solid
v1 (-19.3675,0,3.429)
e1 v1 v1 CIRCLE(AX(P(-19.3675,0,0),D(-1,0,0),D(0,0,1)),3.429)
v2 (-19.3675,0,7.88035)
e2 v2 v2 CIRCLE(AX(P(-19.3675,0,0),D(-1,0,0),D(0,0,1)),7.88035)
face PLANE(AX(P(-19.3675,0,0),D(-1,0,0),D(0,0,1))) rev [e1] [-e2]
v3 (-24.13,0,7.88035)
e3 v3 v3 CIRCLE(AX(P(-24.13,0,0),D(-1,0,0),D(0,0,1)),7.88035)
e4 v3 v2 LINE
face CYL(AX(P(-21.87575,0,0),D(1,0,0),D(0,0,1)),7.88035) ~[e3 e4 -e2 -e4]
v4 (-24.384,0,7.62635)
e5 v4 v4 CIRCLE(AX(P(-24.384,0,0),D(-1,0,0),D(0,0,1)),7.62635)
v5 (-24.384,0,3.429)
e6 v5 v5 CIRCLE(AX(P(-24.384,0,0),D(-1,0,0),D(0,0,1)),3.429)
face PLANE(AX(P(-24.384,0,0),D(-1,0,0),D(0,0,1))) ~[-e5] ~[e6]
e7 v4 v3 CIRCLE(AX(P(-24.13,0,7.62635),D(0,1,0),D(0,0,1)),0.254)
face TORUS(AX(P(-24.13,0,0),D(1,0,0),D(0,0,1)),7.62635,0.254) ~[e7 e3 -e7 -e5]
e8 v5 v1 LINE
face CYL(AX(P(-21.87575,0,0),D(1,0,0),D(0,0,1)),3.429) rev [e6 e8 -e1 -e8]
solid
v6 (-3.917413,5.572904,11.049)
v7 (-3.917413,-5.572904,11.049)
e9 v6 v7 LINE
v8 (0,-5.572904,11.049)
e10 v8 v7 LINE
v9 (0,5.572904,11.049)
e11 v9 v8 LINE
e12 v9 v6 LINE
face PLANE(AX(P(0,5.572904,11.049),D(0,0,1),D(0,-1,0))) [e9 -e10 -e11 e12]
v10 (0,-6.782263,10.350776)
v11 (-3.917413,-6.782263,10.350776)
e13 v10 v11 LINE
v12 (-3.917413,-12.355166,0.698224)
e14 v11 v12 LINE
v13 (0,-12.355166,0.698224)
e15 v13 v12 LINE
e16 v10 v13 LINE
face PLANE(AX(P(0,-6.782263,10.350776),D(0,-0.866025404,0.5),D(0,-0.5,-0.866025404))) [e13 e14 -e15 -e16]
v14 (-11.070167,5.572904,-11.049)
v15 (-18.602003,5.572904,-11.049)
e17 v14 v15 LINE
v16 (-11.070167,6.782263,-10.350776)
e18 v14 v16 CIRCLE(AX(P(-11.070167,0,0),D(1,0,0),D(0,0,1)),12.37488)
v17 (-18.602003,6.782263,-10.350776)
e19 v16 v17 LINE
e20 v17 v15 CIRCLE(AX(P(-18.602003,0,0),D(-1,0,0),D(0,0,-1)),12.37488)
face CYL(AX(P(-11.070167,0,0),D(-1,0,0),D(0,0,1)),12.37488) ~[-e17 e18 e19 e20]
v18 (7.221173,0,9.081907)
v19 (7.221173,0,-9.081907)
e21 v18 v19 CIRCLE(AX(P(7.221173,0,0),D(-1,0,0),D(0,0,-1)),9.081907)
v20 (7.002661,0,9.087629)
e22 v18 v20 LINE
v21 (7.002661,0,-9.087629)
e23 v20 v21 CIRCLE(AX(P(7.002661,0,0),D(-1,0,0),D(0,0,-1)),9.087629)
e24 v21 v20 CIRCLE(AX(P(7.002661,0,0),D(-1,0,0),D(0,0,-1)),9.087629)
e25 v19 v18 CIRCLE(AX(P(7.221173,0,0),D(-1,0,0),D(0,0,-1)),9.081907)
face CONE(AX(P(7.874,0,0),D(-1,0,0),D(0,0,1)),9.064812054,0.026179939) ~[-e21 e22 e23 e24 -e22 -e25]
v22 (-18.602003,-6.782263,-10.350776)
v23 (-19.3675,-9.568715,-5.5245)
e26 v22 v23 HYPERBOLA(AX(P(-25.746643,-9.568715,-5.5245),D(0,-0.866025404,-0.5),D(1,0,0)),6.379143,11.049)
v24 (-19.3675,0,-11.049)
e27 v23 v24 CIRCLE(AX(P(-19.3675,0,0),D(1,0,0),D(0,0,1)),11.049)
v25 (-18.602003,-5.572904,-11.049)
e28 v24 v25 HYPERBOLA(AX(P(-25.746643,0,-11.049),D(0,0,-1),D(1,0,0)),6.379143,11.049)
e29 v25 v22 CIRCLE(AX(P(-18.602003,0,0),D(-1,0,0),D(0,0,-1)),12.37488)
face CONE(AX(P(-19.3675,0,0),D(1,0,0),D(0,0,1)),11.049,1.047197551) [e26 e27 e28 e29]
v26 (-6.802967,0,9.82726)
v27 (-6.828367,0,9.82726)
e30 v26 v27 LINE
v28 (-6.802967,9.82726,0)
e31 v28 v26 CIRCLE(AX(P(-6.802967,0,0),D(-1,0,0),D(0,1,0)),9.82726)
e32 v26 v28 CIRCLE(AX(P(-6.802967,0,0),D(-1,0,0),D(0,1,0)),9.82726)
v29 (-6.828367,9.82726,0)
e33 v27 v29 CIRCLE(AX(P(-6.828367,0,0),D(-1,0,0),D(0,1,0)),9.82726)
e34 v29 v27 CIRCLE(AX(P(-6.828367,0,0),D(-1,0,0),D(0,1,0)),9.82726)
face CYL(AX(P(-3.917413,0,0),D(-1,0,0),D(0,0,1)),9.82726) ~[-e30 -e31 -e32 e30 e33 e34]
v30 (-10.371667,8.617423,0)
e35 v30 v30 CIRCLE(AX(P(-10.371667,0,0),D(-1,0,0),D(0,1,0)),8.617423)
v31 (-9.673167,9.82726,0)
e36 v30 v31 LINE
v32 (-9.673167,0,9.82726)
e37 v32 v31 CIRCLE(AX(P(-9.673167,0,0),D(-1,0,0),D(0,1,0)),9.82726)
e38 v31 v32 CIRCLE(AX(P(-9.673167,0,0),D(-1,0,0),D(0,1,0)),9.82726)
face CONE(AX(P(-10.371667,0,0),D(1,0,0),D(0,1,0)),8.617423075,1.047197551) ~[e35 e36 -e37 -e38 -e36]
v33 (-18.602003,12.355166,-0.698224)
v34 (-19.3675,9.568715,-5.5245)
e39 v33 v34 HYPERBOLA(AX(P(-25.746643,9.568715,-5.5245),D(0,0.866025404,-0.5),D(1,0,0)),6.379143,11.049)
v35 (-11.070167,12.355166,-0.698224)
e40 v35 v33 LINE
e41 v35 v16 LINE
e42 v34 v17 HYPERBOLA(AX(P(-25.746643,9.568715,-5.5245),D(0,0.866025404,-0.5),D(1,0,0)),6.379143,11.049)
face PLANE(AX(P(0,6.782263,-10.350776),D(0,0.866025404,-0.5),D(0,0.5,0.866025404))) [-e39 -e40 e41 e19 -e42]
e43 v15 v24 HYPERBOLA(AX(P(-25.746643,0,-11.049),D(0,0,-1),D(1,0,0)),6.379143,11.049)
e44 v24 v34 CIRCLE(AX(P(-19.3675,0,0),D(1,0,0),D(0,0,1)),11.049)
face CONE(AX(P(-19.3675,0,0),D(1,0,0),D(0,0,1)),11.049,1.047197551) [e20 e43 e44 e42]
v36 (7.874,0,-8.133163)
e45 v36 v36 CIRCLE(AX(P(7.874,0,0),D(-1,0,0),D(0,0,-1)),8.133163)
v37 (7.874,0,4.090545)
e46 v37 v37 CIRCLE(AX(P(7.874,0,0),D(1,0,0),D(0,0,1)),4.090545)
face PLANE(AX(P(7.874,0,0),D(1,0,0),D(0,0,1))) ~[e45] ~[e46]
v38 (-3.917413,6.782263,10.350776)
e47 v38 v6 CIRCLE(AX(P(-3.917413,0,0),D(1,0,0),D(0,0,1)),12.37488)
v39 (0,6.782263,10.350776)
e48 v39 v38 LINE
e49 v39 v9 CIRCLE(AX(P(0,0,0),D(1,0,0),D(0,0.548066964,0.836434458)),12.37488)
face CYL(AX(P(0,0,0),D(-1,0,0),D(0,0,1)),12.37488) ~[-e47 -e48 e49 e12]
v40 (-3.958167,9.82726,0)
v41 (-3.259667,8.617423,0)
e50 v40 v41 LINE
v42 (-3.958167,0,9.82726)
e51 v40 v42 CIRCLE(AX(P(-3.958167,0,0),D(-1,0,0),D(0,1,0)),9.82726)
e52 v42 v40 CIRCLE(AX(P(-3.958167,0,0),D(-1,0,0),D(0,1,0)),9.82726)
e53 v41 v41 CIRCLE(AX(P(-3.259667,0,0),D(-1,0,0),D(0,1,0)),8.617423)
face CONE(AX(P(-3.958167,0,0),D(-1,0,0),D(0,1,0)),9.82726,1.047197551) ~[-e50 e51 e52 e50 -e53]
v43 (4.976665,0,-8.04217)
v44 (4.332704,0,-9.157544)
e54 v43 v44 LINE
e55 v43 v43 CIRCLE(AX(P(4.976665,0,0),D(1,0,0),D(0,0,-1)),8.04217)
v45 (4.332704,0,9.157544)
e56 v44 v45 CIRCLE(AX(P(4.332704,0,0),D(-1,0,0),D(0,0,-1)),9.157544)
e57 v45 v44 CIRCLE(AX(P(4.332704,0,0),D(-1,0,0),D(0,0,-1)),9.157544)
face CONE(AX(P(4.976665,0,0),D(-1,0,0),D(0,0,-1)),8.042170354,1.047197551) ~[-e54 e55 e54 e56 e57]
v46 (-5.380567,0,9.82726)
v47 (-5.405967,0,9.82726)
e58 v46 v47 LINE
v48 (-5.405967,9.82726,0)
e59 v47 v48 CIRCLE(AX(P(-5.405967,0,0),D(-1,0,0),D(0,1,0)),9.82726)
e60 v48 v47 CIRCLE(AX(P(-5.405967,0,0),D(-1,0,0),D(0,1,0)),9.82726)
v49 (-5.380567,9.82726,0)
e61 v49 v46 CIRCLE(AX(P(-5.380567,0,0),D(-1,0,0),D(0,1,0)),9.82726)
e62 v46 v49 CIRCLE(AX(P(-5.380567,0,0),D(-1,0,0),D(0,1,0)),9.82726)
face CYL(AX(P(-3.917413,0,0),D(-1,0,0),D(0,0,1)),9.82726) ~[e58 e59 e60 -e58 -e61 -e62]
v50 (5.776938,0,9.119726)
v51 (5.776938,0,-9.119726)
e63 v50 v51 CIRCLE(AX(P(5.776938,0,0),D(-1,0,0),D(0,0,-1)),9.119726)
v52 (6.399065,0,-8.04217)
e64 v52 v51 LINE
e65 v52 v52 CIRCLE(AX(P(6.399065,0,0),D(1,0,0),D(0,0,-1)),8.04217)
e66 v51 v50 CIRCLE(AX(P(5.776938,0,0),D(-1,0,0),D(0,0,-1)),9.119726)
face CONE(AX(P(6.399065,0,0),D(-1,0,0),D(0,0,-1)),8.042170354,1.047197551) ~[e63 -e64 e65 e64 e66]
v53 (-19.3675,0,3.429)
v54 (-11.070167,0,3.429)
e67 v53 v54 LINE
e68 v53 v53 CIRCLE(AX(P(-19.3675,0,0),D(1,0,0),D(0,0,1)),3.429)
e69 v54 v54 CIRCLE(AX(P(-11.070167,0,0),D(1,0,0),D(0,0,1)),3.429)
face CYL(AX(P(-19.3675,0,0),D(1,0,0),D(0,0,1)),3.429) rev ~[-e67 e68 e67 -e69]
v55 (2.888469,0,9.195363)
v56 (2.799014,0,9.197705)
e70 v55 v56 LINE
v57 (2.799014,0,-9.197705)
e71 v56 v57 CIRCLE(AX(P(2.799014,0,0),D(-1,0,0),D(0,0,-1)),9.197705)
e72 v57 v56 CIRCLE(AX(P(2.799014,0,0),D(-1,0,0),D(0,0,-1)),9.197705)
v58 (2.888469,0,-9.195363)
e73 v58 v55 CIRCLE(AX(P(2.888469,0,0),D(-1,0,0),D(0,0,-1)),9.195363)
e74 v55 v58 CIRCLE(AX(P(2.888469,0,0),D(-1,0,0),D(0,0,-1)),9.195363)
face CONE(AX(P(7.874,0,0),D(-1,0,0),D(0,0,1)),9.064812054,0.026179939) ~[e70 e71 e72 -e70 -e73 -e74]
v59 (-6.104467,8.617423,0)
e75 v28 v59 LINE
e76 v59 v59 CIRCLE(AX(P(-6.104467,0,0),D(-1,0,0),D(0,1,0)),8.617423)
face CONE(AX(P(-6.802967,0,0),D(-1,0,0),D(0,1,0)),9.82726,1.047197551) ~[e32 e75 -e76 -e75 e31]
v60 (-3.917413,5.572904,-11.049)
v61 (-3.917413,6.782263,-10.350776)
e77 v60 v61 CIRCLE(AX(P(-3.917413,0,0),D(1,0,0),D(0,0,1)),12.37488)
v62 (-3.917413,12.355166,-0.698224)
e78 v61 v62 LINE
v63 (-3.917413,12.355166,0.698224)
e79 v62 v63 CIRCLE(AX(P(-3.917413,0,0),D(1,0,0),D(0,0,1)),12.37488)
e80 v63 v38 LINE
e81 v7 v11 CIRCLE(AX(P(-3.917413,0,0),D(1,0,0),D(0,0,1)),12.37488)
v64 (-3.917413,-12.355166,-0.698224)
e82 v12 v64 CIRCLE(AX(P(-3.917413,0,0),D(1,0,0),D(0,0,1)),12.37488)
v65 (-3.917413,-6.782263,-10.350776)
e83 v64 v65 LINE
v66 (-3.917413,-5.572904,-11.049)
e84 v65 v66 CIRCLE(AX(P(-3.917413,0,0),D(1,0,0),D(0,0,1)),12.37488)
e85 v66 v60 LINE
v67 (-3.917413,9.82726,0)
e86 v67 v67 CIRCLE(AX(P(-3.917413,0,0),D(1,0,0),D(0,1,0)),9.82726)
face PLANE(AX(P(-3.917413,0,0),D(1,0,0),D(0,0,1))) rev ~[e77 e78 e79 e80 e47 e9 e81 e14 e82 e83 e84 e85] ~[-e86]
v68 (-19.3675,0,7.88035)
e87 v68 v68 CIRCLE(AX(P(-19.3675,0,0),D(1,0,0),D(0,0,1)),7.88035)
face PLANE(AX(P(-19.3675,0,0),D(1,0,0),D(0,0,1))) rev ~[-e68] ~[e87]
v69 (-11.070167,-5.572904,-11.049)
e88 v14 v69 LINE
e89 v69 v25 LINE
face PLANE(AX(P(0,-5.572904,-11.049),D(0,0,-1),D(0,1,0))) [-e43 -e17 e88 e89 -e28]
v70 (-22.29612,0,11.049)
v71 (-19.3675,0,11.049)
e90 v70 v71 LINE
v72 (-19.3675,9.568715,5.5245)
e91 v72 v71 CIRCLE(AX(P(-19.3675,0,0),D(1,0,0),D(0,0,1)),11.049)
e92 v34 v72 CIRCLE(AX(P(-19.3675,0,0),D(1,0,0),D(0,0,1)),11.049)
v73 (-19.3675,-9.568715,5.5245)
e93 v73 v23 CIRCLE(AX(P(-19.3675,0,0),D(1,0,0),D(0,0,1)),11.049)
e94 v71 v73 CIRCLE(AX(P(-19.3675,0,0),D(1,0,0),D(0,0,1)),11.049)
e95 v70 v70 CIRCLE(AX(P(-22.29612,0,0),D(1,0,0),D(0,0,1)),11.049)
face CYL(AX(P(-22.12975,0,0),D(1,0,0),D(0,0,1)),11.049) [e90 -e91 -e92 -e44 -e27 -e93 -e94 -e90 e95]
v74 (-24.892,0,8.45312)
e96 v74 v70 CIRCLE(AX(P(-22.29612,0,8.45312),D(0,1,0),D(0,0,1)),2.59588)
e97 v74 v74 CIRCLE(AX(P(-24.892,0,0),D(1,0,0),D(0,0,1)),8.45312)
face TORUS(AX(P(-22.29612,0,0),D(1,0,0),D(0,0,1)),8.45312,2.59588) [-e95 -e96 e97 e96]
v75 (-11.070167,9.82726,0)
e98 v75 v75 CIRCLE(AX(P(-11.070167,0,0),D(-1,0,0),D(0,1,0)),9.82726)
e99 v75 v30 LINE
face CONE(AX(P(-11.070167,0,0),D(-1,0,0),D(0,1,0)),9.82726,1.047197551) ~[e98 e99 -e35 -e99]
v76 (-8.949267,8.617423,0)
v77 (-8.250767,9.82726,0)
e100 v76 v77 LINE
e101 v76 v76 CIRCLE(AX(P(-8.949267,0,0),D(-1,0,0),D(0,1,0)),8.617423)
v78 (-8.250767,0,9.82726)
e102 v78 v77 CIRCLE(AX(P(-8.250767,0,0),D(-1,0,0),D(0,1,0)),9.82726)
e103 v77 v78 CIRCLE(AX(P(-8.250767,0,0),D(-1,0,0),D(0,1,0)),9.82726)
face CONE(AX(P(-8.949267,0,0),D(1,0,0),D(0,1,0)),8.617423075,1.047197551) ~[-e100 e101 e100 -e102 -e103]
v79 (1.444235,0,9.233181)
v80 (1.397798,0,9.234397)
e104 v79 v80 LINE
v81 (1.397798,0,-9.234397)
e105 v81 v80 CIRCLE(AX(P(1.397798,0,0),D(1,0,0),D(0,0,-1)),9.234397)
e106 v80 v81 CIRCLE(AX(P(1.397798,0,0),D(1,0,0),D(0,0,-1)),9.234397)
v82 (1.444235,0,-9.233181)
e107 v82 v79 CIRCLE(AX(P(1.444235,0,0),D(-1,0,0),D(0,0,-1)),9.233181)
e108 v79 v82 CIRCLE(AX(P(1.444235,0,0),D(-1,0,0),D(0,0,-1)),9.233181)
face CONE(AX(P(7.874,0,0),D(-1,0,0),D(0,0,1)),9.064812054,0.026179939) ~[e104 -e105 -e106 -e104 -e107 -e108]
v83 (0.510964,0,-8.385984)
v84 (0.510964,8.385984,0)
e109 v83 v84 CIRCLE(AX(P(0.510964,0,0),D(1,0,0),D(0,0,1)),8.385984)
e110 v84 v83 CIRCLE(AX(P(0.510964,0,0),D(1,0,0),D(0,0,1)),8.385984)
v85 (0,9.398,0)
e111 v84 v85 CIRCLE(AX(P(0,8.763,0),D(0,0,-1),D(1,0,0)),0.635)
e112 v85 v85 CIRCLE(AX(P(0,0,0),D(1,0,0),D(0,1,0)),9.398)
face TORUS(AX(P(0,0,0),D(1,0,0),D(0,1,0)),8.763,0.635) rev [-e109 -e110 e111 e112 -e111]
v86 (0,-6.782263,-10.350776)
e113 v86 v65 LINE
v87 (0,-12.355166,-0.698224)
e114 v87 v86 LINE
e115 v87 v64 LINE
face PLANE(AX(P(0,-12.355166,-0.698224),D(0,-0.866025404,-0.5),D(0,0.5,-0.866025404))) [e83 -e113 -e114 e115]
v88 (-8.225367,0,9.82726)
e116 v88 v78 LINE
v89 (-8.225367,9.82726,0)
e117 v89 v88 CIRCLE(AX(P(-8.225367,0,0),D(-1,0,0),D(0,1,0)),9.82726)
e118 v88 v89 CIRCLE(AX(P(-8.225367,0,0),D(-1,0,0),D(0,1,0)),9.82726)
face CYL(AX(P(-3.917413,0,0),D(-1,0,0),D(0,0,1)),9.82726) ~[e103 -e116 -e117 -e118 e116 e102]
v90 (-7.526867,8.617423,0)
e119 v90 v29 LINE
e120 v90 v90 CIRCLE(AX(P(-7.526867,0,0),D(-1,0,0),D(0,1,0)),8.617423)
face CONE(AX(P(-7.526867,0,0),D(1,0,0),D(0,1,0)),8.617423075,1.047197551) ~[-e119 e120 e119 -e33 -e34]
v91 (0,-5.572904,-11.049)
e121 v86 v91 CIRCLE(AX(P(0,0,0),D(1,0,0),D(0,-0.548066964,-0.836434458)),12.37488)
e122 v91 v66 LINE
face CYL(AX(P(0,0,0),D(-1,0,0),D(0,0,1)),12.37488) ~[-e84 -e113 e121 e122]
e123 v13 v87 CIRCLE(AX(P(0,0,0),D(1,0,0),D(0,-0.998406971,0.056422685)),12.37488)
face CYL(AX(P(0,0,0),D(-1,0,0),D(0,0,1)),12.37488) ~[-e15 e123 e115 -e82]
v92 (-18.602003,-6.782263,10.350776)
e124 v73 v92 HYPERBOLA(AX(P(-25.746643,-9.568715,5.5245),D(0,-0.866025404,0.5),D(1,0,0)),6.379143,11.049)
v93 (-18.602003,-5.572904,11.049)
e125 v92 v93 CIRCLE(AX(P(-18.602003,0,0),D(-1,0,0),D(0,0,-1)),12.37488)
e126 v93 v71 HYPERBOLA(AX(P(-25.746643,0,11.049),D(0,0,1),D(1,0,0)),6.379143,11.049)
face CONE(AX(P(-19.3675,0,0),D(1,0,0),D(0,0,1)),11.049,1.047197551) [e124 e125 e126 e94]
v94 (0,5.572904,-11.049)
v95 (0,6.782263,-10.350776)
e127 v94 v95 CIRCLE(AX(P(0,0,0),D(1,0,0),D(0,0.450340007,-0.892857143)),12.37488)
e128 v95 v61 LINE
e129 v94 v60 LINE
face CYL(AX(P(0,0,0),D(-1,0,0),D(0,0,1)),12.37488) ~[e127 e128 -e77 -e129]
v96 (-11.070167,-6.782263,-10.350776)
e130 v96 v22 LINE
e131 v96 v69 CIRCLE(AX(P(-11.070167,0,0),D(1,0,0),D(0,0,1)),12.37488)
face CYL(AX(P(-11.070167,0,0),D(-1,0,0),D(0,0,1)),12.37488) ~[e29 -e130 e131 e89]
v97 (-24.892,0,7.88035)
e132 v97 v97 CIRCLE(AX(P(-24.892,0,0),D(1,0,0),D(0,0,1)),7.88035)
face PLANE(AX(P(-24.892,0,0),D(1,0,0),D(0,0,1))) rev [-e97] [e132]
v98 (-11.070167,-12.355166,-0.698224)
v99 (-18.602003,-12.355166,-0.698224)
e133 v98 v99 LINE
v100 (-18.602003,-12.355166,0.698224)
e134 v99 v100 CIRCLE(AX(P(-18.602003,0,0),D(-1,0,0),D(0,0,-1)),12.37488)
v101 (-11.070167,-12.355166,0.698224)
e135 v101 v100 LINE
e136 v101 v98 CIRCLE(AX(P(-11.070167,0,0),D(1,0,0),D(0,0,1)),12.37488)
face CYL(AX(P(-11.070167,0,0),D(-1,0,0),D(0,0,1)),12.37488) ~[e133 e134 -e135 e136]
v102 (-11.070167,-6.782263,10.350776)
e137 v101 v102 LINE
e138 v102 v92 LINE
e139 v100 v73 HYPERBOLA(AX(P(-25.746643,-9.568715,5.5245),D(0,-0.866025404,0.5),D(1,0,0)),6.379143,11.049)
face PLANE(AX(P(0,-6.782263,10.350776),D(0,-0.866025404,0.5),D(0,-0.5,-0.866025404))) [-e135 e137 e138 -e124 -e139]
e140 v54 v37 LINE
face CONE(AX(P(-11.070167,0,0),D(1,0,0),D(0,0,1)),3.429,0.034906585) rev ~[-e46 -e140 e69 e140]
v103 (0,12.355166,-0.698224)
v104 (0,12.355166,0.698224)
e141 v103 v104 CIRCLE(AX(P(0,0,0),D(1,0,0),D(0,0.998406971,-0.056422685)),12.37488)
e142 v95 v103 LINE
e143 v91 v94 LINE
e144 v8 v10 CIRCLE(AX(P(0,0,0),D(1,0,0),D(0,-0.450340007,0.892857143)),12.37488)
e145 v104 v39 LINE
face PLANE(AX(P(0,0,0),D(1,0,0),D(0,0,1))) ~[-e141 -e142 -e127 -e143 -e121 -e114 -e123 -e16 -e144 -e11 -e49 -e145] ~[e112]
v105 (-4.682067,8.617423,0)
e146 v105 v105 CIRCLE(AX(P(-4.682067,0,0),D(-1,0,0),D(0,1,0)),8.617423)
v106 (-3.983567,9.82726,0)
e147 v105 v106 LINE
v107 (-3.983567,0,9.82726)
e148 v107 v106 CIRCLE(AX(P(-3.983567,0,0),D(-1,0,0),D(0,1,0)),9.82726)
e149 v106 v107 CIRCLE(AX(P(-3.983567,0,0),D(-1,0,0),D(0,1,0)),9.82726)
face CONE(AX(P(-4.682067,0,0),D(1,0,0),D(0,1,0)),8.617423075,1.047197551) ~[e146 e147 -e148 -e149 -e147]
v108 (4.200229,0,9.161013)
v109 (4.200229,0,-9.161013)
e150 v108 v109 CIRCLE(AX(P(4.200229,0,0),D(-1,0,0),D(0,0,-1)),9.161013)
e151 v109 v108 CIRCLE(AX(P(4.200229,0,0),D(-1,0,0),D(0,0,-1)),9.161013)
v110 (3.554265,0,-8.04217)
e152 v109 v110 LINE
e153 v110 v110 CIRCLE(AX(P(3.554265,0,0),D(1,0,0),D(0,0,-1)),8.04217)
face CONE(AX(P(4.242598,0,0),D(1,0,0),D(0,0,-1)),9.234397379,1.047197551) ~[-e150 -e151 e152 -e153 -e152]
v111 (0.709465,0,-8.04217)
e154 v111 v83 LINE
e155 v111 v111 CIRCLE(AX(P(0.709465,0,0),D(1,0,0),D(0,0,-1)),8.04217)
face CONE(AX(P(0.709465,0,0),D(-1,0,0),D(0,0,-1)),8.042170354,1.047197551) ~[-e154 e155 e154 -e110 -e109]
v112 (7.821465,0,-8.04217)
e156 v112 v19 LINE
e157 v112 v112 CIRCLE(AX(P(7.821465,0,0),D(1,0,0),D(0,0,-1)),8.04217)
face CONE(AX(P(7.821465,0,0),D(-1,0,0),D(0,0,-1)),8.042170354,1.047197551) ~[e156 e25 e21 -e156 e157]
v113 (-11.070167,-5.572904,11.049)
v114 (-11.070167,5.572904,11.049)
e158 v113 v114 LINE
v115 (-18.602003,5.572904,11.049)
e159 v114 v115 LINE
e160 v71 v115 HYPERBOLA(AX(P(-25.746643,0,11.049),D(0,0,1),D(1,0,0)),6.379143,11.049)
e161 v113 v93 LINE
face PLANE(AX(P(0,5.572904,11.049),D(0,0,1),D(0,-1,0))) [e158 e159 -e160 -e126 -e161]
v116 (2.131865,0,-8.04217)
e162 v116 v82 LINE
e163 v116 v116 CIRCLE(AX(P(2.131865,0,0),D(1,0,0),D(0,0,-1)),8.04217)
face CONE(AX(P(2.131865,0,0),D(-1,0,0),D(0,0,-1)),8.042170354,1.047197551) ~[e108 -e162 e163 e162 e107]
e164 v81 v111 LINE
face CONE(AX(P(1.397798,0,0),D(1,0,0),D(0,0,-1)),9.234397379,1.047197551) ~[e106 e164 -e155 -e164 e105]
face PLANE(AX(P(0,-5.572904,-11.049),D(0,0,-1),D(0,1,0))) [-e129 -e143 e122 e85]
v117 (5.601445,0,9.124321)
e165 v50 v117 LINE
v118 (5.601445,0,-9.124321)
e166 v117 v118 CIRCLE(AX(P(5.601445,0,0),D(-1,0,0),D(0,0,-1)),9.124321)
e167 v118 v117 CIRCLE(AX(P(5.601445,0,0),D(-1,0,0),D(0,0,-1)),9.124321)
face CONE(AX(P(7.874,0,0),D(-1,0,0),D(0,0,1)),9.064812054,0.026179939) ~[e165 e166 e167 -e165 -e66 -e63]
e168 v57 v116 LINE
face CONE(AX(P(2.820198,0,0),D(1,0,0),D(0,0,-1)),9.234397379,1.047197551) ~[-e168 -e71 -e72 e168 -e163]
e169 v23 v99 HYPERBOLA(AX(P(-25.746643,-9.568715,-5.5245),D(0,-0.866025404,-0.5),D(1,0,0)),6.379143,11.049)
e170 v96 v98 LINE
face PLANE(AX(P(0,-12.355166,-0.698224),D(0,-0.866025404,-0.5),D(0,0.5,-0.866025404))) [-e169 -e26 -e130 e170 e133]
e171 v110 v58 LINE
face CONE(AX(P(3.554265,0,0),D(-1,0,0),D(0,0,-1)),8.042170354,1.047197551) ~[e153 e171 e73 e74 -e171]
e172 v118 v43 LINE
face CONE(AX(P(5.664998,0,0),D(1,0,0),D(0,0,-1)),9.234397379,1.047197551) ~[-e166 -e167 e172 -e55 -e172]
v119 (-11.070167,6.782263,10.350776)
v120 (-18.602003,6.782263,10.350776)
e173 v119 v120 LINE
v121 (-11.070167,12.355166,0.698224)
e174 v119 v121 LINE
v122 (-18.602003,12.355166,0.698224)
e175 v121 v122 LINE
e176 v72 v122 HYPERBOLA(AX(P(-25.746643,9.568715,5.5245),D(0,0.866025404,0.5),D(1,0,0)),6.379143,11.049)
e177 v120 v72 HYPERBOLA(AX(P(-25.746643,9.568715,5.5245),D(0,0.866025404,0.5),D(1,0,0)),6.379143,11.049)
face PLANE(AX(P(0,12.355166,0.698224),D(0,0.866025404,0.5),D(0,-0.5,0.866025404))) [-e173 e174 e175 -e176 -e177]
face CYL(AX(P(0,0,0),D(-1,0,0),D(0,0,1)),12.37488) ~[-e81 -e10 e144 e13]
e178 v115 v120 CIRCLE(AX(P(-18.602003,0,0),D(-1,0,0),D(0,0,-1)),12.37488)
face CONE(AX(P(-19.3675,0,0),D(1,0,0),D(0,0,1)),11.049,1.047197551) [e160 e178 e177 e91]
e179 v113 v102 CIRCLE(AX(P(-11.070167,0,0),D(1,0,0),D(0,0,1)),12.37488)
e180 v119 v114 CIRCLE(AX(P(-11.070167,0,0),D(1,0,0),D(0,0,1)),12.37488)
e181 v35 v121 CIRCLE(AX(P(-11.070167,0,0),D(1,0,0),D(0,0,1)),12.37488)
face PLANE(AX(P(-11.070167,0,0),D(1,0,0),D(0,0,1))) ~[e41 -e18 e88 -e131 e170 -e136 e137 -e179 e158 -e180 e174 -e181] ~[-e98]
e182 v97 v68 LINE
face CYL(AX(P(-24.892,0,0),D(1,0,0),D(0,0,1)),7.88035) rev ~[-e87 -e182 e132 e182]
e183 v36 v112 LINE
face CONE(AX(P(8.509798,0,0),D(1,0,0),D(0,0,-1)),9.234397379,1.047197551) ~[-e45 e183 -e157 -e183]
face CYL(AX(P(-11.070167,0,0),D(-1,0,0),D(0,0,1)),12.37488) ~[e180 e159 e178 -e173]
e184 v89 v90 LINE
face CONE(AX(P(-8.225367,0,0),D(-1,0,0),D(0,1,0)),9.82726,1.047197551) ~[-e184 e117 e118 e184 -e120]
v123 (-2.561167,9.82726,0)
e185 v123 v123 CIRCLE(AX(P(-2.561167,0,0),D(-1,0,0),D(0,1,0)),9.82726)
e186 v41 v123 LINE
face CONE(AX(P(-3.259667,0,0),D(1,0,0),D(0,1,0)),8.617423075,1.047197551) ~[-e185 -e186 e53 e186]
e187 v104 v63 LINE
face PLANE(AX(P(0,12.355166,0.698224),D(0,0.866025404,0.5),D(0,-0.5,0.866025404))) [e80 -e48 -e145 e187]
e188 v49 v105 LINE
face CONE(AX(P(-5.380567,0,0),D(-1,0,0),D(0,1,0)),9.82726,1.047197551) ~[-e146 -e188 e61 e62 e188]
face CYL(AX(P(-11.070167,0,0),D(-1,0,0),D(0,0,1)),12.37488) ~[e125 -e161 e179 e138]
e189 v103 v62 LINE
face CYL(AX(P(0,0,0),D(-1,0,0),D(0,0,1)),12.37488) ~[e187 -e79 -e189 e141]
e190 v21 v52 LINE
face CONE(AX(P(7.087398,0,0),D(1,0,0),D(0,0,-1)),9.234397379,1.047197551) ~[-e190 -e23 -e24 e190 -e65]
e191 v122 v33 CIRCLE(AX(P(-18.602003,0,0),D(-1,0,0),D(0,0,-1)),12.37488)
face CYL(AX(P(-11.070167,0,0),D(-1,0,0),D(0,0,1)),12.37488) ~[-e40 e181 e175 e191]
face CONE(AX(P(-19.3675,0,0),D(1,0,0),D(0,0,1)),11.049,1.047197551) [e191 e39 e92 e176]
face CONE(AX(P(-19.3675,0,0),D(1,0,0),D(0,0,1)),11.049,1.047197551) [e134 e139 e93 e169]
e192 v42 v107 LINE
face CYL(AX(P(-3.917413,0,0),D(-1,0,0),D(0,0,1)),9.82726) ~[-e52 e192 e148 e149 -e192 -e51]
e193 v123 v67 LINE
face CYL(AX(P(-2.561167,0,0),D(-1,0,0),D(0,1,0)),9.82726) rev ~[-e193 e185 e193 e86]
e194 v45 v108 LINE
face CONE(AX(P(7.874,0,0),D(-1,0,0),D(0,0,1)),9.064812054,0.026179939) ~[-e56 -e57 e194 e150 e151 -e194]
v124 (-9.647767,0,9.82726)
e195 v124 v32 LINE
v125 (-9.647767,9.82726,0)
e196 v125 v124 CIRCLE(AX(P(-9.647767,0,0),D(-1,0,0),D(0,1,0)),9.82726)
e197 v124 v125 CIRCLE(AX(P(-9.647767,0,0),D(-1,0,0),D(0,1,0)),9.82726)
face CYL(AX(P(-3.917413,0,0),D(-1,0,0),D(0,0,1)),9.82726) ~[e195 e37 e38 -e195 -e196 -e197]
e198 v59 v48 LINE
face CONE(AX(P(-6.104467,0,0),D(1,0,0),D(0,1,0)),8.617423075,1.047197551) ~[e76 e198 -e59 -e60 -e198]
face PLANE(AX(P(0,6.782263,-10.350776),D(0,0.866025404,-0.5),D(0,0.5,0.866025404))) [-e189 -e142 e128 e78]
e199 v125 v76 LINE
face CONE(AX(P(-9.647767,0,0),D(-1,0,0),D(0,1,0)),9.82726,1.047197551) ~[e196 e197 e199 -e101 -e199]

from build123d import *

# Parameters (mm, degrees)
SKETCH2_OUTSIDE_W  = 36.338
SKETCH2_OUTSIDE_H  = 36.338
CUT_EXTRUDE1_DEPTH = 19.3675
SKETCH14_W         = 5.5245
SKETCH14_H         = 1.778
CHAMFER1_SIZE      = 0.326149358
CHAMFER1_SIZE2     = 0.3175
SKETCH3_OUTSIDE_W  = 131.256
SKETCH3_OUTSIDE_H  = 133.908
SKETCH3_OUTSIDE_R  = 11.049
CUT_EXTRUDE2_DEPTH = 28.2415
CUT_EXTRUDE2_DRAFT = -60
SKETCH16_W         = 5.0165
SKETCH16_H         = 4.45135
FILLET1_R          = 2.59588
LPATTERN1_COUNT    = 6
LPATTERN1_PITCH    = 1.4224
LPATTERN2_COUNT    = 6
LPATTERN2_PITCH    = 1.4224
SKETCH15_R         = 0.635
FILLET4_R          = 0.254


with BuildPart() as part:
    # Sketch1 → Revolve1 (revolve)
    with BuildSketch(Plane.XY, mode=Mode.PRIVATE) as revolve1_sk:
        Polygon((-11.070166667, 9.82726), (-11.070166667, 12.37488), (-19.3675, 12.37488), (-19.3675, 9.271), (-24.892, 9.271), (-24.892, 7.88035), (-19.3675, 7.88035), (-19.3675, 3.429), (-11.070166667, 3.429), (7.874, 4.090544877), (7.874, 9.064812054), (0, 9.271), (0, 12.37488), (-3.917412935, 12.37488), (-3.917412935, 9.82726), align=None)
    revolve(revolve1_sk.sketch.rotate(Axis((-18.386021217, 0, 0), (1, 0, 0)), 90), axis=Axis((-18.386021217, 0, 0), (1, 0, 0)))  # turned: the seam where the file's is

    # Sketch2 outside → Cut-Extrude1 (cut)
    with BuildSketch(Plane(origin=(0, 0, 0), x_dir=(0, 0, -1), z_dir=(1, 0, 0))):
        Rectangle(SKETCH2_OUTSIDE_W, SKETCH2_OUTSIDE_H)
        with BuildLine():
            Line((11.049, -5.572903553), (11.049, 5.572903553))
            ThreePointArc((11.049, 5.572903553), (10.716960449, 6.18744), (10.35077605, 6.78226291))
            Line((10.35077605, 6.78226291), (0.69822395, 12.355166463))
            ThreePointArc((0.69822395, 12.355166463), (0, 12.37488), (-0.69822395, 12.355166463))
            Line((-0.69822395, 12.355166463), (-10.35077605, 6.78226291))
            ThreePointArc((-10.35077605, 6.78226291), (-10.716960449, 6.18744), (-11.049, 5.572903553))
            Line((-11.049, 5.572903553), (-11.049, -5.572903553))
            ThreePointArc((-11.049, -5.572903553), (-10.716960449, -6.18744), (-10.35077605, -6.78226291))
            Line((-10.35077605, -6.78226291), (-0.69822395, -12.355166463))
            ThreePointArc((-0.69822395, -12.355166463), (0, -12.37488), (0.69822395, -12.355166463))
            Line((0.69822395, -12.355166463), (10.35077605, -6.78226291))
            ThreePointArc((10.35077605, -6.78226291), (10.716960449, -6.18744), (11.049, -5.572903553))
        make_face(mode=Mode.SUBTRACT)
    extrude(amount=-CUT_EXTRUDE1_DEPTH, mode=Mode.SUBTRACT)

    # Sketch14 → Revolve4 (revolve)
    with BuildSketch(Plane.XY, mode=Mode.PRIVATE) as revolve4_sk:
        with Locations((-22.12975, 10.16)):
            Rectangle(SKETCH14_W, SKETCH14_H)
    revolve(revolve4_sk.sketch.rotate(Axis((-18.386021217, 0, 0), (1, 0, 0)), 90), axis=Axis((-18.386021217, 0, 0), (1, 0, 0)))  # turned: the seam where the file's is

    # Chamfer1
    chamfer1_edges = [part.edges().sort_by_distance(p)[0] for p in [
        (7.874, 0, -9.064812054),
    ]]
    chamfer1_side = [part.faces().sort_by_distance(p)[0] for p in [
        (3.937, 0, -9.167906027),
    ]]
    chamfer(chamfer1_edges, length=CHAMFER1_SIZE, length2=CHAMFER1_SIZE2, reference=chamfer1_side[0])


with BuildPart() as cut_extrude2_tool:
    # Sketch3 outside → Cut-Extrude2 (with draft: the straight prism first)
    with BuildSketch(Plane.ZY.offset(19.3675)):
        Rectangle(SKETCH3_OUTSIDE_W, SKETCH3_OUTSIDE_H)
        Circle(SKETCH3_OUTSIDE_R, mode=Mode.SUBTRACT)
    extrude(amount=-CUT_EXTRUDE2_DEPTH)
    # Cut-Extrude2: the draft: its side faces are tilted about the plane it starts from
    cut_extrude2_sides = [cut_extrude2_tool.faces().sort_by_distance(p)[0] for p in [
        (-5.24675, -66.954, 0),
        (-5.24675, 0, 65.628),
        (-5.24675, 66.954, 0),
        (-5.24675, 0, -65.628),
        (-5.24675, 0, -11.049),
    ]]
    draft(cut_extrude2_sides, Plane.ZY.offset(19.3675), CUT_EXTRUDE2_DRAFT)


with BuildPart() as part_1:
    add(part.part)

    # Cut-Extrude2: cut by cut_extrude2_tool
    add(cut_extrude2_tool.part, mode=Mode.SUBTRACT)

    # Fillet1
    fillet1_edges = [part_1.edges().sort_by_distance(p)[0] for p in [
        (-24.892, 0, -11.049),
    ]]
    fillet(fillet1_edges, radius=FILLET1_R)

    # Sketch10 → Cut-Revolve1 (revolve, cut)
    with BuildSketch(Plane.XY):
        Polygon((-11.070166667, 9.82726), (-10.371666992, 8.617423075), (-9.673167318, 9.82726), align=None)
    cut_revolve1 = revolve(axis=Axis((15.58962545, 0, 0), (-1, 0, 0)), mode=Mode.SUBTRACT)

    # LPattern1: Cut-Revolve1 ×6
    with Locations(*[(i * LPATTERN1_PITCH, 0, 0) for i in range(1, LPATTERN1_COUNT)]):
        add(cut_revolve1, mode=Mode.SUBTRACT)

    # Sketch13 → Cut-Revolve2 (revolve, cut)
    with BuildSketch(Plane.XY, mode=Mode.PRIVATE) as cut_revolve2_sk:
        Polygon((0, 9.271), (1.397797721, 9.234397379), (0.709465127, 8.042170354), align=None)
    cut_revolve2 = revolve(cut_revolve2_sk.sketch.rotate(Axis((-18.386021217, 0, 0), (1, 0, 0)), 270), axis=Axis((-18.386021217, 0, 0), (1, 0, 0)), mode=Mode.SUBTRACT)  # turned: the seam where the file's is

    # LPattern2: Cut-Revolve2 ×6
    with Locations(*[(i * LPATTERN2_PITCH, 0, 0) for i in range(1, LPATTERN2_COUNT)]):
        add(cut_revolve2, mode=Mode.SUBTRACT)

    # Sketch15 → Cut-Revolve4 (revolve, cut)
    with BuildSketch(Plane.XY, mode=Mode.PRIVATE) as cut_revolve4_sk:
        with Locations((0, -8.763)):
            Circle(SKETCH15_R)
    revolve(cut_revolve4_sk.sketch.rotate(Axis((10.155027747, 0, 0), (-1, 0, 0)), 180), axis=Axis((10.155027747, 0, 0), (-1, 0, 0)), mode=Mode.SUBTRACT)  # turned: the seam where the file's is


with BuildPart() as body_2:
    # Sketch16 → Revolve5 (revolve)
    with BuildSketch(Plane.XY, mode=Mode.PRIVATE) as revolve5_sk:
        with Locations((-21.87575, 5.654675)):
            Rectangle(SKETCH16_W, SKETCH16_H)
    revolve(revolve5_sk.sketch.rotate(Axis((9.562227286, 0, 0), (-1, 0, 0)), 270), axis=Axis((9.562227286, 0, 0), (-1, 0, 0)))  # turned: the seam where the file's is

    # Fillet4
    fillet4_edges = [body_2.edges().sort_by_distance(p)[0] for p in [
        (-24.384, 0, -7.88035),
    ]]
    fillet(fillet4_edges, radius=FILLET4_R)


solid = Compound([part_1.part, body_2.part])
